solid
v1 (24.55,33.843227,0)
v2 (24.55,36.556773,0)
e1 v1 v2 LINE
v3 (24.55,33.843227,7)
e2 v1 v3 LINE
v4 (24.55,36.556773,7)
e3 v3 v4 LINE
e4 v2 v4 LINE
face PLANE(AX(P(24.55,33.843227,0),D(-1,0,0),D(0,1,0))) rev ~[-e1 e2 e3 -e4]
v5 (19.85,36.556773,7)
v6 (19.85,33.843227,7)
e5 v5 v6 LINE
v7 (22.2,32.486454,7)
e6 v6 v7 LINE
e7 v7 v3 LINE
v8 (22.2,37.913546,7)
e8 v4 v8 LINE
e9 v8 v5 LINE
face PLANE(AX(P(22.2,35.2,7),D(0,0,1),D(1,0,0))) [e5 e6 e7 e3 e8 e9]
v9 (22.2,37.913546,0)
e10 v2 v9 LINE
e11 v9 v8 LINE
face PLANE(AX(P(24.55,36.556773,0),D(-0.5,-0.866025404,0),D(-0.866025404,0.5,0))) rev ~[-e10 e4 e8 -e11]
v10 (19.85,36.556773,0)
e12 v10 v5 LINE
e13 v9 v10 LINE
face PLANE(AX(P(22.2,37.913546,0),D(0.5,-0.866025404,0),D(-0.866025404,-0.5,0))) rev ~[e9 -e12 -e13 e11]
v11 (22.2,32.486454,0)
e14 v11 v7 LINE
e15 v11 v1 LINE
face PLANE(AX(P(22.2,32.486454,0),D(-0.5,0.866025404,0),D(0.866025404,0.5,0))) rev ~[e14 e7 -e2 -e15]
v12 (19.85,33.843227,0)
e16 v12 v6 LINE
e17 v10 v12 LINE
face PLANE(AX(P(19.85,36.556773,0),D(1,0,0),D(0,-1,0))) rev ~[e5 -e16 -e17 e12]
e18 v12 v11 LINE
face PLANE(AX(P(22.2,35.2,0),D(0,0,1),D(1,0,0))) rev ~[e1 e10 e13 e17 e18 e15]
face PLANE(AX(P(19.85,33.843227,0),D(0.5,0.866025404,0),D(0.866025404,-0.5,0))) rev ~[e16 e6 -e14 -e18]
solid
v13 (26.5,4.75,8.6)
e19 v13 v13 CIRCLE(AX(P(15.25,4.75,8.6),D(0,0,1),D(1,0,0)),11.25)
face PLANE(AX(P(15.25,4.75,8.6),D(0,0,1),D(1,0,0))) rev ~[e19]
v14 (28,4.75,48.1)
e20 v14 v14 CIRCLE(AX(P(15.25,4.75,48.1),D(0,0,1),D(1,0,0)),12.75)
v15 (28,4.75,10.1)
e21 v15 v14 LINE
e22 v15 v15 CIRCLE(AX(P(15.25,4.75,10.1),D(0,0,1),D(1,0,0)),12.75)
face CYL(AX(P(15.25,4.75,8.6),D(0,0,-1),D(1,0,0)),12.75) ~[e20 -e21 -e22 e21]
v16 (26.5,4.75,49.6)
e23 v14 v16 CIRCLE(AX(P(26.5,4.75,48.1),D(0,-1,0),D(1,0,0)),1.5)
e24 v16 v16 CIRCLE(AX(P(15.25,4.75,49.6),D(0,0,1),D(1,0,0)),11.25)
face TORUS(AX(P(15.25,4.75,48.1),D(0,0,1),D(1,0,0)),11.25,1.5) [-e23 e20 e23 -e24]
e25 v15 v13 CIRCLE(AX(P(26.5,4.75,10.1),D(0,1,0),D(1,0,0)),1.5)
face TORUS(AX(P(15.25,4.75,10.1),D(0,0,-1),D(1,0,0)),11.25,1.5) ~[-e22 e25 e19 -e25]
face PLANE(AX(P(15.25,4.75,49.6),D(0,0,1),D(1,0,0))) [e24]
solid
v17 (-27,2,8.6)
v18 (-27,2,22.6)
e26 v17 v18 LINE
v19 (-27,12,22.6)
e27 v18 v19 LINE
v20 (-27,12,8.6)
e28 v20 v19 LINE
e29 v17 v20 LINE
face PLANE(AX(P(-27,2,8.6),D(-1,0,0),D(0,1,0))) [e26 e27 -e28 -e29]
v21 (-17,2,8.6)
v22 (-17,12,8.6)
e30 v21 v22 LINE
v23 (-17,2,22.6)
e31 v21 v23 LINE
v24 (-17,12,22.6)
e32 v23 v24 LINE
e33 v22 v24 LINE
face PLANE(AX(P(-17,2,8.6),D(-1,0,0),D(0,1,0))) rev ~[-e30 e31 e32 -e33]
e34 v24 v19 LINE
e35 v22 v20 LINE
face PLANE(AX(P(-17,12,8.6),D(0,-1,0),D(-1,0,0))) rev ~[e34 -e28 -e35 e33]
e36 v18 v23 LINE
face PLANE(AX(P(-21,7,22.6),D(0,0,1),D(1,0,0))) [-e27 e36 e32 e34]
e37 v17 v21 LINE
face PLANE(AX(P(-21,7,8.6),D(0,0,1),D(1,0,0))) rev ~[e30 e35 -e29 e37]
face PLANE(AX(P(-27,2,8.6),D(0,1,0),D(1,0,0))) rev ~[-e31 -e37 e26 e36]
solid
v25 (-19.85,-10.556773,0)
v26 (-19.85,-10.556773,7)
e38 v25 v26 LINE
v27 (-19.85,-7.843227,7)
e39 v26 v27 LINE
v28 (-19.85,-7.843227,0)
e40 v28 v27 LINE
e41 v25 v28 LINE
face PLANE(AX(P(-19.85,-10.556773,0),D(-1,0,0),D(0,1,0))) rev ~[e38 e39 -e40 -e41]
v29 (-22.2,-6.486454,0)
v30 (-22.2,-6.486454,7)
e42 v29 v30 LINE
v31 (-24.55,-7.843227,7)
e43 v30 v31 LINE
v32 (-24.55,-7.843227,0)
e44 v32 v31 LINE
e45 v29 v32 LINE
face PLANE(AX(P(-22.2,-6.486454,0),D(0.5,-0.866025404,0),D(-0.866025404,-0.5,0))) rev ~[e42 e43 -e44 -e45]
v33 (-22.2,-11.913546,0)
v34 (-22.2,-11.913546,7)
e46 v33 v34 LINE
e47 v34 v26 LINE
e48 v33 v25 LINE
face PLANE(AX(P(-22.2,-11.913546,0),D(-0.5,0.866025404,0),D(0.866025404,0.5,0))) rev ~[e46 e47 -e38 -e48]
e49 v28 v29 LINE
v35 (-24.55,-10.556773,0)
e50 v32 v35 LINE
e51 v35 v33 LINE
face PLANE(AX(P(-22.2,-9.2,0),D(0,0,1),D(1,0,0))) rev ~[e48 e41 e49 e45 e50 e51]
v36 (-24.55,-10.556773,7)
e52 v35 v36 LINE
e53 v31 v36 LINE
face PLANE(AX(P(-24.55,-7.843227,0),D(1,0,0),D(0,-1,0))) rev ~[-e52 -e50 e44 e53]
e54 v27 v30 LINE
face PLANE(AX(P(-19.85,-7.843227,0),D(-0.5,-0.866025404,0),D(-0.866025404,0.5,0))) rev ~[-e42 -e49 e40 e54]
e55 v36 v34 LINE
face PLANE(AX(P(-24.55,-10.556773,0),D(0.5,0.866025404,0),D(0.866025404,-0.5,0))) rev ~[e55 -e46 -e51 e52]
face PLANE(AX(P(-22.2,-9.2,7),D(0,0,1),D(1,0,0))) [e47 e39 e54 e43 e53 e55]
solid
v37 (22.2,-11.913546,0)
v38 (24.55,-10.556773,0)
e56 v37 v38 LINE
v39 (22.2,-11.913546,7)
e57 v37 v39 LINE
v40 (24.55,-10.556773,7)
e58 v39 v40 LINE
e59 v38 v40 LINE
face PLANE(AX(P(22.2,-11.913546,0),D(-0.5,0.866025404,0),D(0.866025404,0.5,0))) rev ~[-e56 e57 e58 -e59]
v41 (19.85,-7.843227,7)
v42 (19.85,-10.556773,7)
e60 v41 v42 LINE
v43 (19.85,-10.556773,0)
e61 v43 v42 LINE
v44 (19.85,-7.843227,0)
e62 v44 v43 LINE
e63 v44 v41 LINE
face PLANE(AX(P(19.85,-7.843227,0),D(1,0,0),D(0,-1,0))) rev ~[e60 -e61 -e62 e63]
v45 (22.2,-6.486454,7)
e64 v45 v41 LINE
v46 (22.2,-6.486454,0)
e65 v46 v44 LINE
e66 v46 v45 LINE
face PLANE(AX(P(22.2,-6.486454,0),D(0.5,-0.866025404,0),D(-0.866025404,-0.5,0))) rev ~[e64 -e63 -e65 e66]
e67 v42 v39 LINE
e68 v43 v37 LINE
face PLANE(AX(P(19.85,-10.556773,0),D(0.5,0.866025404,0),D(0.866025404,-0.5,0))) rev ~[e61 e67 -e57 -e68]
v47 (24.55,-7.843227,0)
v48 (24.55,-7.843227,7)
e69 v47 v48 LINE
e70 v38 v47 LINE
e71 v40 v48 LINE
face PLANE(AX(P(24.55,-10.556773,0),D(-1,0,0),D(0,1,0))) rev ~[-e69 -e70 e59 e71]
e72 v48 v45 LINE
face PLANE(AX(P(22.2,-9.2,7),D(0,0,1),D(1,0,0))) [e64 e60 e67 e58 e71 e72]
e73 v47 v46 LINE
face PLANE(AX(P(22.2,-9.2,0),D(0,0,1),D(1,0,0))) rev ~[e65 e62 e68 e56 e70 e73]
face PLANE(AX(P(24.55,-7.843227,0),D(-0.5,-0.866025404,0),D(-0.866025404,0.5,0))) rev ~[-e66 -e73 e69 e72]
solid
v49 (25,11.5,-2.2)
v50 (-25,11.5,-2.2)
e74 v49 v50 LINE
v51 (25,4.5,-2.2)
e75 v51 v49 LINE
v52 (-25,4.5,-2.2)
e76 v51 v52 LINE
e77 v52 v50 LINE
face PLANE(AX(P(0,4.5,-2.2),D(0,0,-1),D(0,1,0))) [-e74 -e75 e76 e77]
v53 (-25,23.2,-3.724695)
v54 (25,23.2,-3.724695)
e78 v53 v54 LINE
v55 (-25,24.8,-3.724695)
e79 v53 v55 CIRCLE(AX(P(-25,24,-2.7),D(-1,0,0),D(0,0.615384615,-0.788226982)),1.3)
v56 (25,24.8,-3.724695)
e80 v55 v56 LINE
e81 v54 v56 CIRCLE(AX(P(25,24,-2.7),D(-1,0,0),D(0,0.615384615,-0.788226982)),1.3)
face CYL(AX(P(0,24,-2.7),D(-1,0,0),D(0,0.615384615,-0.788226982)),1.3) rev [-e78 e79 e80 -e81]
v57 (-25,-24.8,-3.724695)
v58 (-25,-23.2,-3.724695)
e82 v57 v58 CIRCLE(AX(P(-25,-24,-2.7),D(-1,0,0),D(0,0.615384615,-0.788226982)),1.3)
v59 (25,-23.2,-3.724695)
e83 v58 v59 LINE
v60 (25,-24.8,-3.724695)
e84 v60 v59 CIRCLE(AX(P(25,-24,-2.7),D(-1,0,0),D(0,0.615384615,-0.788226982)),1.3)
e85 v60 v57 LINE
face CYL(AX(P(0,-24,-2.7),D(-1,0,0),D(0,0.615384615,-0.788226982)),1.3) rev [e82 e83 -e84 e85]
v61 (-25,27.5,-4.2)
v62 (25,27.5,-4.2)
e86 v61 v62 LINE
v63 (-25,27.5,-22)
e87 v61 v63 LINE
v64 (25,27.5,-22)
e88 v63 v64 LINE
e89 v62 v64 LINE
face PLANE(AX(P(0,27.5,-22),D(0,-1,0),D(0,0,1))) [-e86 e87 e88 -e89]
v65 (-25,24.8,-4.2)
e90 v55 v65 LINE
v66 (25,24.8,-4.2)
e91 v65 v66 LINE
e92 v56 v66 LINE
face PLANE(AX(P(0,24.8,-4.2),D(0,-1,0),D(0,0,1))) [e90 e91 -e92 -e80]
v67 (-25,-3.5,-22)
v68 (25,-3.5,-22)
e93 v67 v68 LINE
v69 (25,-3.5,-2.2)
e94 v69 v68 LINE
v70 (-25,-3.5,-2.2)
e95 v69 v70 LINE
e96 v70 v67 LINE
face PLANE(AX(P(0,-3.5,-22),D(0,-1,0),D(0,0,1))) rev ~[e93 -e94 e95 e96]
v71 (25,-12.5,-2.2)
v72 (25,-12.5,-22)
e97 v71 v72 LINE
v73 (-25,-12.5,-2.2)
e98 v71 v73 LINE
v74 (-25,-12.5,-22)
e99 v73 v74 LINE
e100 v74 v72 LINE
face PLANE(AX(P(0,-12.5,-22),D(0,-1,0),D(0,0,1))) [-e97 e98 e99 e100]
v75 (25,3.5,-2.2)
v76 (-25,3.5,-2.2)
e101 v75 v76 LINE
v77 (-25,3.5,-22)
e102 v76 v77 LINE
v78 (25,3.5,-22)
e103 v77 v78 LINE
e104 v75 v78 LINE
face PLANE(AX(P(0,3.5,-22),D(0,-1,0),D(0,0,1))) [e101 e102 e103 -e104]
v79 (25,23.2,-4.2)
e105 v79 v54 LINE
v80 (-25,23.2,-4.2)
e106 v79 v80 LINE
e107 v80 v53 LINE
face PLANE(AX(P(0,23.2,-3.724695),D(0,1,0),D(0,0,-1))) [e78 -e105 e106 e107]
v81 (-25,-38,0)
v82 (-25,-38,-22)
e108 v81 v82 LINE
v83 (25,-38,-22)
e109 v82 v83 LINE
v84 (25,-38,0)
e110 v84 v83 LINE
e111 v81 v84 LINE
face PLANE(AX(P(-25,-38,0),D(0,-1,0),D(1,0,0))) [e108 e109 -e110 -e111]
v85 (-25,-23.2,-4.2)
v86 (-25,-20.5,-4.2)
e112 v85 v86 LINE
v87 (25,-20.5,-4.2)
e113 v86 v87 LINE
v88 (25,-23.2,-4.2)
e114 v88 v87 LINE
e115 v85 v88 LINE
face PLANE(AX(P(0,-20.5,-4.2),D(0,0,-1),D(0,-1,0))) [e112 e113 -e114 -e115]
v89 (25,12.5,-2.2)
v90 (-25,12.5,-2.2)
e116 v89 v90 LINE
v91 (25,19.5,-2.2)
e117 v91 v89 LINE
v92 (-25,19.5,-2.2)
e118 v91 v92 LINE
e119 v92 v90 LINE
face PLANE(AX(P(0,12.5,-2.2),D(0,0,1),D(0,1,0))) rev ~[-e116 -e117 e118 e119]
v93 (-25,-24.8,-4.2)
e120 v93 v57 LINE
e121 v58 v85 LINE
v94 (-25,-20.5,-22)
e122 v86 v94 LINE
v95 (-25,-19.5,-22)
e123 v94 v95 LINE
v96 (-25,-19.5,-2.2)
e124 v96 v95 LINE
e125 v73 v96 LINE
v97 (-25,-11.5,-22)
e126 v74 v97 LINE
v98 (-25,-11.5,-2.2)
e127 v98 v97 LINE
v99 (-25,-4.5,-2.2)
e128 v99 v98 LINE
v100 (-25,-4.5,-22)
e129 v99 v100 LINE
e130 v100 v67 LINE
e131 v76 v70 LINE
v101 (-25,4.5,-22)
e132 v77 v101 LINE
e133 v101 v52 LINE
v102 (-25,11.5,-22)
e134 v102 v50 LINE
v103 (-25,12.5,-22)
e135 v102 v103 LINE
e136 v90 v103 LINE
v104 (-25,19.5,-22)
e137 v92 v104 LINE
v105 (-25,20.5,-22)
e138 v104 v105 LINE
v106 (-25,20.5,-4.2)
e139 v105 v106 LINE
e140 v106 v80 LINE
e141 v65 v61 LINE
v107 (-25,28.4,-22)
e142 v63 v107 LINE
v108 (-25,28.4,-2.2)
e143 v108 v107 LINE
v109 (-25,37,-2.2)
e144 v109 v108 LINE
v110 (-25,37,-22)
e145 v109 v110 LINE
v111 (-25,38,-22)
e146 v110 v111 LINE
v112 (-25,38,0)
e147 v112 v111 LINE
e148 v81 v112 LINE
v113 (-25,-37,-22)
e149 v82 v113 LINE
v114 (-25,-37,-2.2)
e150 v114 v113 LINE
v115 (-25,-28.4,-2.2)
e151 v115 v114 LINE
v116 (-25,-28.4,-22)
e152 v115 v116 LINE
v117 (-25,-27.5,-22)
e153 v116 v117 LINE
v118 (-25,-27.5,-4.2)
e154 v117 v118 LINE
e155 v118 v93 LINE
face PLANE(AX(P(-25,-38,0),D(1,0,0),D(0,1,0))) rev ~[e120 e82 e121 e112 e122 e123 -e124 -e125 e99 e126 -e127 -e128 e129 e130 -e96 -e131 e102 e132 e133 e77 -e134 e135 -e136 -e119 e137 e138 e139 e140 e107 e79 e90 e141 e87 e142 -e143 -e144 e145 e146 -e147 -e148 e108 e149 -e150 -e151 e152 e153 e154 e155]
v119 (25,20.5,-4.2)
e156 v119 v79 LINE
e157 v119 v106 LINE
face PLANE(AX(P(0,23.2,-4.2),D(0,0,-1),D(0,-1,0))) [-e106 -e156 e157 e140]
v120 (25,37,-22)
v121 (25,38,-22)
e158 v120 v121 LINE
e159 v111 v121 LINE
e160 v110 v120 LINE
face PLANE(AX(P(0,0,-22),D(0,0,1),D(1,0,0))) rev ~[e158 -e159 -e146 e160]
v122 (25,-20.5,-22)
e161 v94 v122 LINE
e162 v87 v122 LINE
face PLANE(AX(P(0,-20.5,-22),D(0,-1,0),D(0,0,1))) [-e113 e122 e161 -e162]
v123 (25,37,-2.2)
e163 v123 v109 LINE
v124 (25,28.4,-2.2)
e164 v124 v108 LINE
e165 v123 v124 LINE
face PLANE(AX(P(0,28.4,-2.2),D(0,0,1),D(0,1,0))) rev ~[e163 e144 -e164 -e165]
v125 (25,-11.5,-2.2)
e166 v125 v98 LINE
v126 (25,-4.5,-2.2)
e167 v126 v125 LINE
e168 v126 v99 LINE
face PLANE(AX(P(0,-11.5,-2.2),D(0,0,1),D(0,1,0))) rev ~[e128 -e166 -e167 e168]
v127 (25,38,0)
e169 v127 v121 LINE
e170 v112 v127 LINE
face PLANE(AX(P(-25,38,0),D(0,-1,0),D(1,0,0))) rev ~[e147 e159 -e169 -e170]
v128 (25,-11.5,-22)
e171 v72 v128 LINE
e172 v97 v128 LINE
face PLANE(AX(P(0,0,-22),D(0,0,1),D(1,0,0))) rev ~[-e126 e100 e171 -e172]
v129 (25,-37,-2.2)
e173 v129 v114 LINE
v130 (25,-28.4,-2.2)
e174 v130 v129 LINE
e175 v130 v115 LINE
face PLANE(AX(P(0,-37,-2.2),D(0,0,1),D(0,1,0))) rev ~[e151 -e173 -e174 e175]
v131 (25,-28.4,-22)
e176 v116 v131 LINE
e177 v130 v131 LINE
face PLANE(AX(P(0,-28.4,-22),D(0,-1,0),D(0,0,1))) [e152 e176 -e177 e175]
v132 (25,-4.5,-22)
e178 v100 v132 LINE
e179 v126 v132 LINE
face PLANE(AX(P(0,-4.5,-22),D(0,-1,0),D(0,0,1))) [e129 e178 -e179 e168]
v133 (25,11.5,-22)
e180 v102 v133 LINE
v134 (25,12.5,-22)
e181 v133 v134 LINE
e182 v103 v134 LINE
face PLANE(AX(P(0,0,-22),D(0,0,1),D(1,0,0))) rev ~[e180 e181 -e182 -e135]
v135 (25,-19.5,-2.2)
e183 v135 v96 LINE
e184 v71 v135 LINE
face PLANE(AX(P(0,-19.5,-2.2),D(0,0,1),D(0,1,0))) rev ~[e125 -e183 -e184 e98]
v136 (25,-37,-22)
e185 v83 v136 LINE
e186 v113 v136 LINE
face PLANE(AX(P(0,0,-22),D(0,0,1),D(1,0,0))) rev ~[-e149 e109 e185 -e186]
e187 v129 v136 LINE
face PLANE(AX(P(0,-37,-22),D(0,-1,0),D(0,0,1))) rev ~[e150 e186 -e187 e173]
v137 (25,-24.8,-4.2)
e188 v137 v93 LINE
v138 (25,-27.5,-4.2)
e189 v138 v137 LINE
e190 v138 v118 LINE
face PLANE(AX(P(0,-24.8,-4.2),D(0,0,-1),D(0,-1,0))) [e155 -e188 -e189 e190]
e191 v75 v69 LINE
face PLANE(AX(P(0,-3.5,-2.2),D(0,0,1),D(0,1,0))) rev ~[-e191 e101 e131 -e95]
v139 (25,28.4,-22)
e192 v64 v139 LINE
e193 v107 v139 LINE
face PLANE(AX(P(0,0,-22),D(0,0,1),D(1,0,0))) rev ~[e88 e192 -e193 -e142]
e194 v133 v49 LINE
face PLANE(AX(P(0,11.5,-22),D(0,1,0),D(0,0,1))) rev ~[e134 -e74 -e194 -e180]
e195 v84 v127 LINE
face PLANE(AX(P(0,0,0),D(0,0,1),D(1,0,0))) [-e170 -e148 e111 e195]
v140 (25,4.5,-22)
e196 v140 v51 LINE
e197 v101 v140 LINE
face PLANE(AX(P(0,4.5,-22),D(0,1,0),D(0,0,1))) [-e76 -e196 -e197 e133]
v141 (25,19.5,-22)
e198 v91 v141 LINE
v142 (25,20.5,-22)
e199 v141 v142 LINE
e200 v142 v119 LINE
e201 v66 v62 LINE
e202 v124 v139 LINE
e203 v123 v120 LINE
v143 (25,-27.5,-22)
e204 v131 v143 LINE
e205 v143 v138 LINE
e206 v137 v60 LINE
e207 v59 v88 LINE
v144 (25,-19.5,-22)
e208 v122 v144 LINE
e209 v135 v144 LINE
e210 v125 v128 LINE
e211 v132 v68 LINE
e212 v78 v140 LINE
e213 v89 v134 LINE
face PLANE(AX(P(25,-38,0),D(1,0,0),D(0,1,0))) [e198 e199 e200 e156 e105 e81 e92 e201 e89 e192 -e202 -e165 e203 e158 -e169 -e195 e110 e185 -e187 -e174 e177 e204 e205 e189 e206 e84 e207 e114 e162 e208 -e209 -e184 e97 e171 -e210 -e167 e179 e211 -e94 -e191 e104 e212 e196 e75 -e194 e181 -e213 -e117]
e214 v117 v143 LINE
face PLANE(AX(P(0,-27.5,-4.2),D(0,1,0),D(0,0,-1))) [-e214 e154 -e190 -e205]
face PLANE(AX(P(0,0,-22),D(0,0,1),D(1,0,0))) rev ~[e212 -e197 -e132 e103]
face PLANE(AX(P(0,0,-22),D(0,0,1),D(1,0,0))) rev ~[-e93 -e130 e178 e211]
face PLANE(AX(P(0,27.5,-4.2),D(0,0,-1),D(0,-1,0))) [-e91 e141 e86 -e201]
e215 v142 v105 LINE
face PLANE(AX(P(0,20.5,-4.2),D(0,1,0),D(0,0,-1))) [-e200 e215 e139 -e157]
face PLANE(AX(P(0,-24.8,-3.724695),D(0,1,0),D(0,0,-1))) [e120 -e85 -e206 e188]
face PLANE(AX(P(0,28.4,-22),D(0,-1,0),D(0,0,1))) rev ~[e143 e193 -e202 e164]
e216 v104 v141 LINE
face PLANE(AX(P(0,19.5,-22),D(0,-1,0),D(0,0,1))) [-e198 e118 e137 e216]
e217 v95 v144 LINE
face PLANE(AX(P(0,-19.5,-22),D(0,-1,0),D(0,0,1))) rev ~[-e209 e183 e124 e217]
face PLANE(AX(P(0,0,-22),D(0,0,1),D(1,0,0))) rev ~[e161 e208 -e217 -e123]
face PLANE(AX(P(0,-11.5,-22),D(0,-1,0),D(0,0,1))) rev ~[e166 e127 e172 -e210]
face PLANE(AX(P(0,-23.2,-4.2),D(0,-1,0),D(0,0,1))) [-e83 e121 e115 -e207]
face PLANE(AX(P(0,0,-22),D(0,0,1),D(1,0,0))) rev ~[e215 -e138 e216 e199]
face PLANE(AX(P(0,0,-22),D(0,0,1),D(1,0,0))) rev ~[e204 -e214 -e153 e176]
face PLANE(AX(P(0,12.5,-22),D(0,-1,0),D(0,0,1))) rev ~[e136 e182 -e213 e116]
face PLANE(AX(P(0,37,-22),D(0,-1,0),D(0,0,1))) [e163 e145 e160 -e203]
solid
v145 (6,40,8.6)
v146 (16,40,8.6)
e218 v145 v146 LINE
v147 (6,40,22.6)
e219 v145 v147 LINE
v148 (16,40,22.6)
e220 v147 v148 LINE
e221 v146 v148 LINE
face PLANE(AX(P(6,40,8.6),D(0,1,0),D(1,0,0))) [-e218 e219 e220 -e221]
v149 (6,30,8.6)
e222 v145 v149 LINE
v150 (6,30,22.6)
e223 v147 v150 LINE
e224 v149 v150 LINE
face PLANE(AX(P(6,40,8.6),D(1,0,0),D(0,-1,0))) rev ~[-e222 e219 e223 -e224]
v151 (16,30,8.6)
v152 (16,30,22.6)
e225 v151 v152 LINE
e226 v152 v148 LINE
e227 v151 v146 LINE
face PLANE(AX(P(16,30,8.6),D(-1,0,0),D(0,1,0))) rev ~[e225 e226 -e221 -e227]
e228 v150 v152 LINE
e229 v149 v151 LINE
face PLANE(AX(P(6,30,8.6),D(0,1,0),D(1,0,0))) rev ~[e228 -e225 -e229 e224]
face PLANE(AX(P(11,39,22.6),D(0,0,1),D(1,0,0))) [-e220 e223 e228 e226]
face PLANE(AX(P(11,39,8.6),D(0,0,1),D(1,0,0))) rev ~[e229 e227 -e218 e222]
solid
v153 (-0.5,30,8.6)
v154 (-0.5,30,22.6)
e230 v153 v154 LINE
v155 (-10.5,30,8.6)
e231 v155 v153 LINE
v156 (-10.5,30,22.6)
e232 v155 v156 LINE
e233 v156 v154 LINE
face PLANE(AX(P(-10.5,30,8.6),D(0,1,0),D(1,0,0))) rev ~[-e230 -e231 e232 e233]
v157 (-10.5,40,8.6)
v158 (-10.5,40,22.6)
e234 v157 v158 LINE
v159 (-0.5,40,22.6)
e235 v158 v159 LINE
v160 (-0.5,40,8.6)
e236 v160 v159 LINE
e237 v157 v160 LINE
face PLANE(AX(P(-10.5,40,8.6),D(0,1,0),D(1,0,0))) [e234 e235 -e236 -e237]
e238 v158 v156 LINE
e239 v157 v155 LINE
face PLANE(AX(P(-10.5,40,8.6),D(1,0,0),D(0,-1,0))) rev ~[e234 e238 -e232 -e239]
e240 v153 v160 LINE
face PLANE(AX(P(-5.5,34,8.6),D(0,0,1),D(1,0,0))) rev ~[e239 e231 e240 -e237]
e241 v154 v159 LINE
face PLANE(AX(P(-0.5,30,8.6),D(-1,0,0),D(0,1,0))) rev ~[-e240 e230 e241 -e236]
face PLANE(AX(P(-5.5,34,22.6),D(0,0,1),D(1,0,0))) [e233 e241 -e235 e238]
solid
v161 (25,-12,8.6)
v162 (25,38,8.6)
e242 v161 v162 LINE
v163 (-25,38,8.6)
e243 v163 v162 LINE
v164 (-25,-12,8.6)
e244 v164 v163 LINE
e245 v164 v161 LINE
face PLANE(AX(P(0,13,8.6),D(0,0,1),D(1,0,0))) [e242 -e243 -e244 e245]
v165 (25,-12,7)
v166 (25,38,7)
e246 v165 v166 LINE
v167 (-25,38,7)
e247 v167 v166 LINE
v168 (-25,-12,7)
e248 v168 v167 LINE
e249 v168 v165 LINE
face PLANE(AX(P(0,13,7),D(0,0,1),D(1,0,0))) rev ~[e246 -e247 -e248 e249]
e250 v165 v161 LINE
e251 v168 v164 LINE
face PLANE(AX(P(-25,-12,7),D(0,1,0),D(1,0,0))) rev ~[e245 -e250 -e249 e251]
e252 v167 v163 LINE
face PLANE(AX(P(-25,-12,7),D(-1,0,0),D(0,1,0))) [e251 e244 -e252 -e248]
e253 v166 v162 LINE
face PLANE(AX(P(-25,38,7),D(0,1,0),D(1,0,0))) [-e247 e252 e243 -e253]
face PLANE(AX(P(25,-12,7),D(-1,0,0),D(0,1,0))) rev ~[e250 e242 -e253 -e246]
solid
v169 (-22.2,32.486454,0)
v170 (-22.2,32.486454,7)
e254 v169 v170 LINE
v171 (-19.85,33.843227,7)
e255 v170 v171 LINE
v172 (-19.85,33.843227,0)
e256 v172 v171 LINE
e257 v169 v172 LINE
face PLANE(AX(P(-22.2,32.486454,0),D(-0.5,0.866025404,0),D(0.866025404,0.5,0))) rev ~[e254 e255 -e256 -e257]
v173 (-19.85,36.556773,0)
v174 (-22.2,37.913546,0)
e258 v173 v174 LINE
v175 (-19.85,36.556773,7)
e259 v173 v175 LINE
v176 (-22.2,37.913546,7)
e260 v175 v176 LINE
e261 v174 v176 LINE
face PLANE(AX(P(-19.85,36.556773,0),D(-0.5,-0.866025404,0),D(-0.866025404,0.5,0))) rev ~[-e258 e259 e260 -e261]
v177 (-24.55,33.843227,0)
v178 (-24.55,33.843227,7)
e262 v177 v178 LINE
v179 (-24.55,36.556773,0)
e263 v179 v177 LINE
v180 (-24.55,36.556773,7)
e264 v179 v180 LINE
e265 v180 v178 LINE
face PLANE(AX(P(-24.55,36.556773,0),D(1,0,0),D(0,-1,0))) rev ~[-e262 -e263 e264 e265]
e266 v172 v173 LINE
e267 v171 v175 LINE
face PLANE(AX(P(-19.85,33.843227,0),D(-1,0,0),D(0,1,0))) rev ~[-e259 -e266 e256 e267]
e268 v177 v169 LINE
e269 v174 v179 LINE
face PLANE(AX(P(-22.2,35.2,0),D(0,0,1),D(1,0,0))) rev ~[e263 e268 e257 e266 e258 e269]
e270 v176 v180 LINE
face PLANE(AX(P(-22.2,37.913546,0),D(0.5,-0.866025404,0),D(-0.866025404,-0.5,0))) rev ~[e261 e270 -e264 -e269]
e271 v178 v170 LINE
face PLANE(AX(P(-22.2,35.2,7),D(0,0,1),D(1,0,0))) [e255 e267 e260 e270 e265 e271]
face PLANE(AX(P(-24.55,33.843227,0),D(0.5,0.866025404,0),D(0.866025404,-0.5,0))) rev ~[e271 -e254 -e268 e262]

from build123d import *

# Parameters (mm, degrees)
F0_W      = 50
F0_H      = 76
F1_DEPTH  = 22
F2_W      = 8.6
F2_H      = 19.8
F2_W_2    = 7
F3_DEPTH  = 27.5
F5_DEPTH  = 7
F6_W      = 50
F6_H      = 50
F7_DEPTH  = 1.6
F8_R      = 12.75
F9_DEPTH  = 41
F10_R     = 1.5
F11_W     = 8
F11_H     = 10
F11_W_2   = 2
F12_DEPTH = 14
F11_W_3   = 10
F11_H_2   = 8
F11_H_3   = 2


with BuildPart() as f1:
    # F0 (on Top) → F1 (new body)
    with BuildSketch(Plane.XY):
        Rectangle(F0_W, F0_H)
    extrude(amount=-F1_DEPTH)

    # F2 (on Right) → F3 (cut, symmetric)
    with BuildSketch(Plane.YZ):
        with Locations((-32.7, -12.1)):
            Rectangle(F2_W, F2_H)
        with Locations((0, -12.1)):
            Rectangle(F2_W_2, F2_H)
        with Locations((-8, -12.1)):
            Rectangle(F2_W_2, F2_H)
        with Locations((-16, -12.1)):
            Rectangle(F2_W_2, F2_H)
        with BuildLine():
            Line((-27.5, -4.2), (-27.5, -22))
            Line((-27.5, -22), (-20.5, -22))
            Line((-20.5, -22), (-20.5, -4.2))
            Line((-20.5, -4.2), (-23.2, -4.2))
            Line((-23.2, -4.2), (-23.2, -3.7246950766))
            ThreePointArc((-23.2, -3.7246950766), (-24, -1.4), (-24.8, -3.7246950766))
            Line((-24.8, -3.7246950766), (-24.8, -4.2))
            Line((-24.8, -4.2), (-27.5, -4.2))
        make_face()
        with Locations((32.7, -12.1)):
            Rectangle(F2_W, F2_H)
        with BuildLine():
            Line((20.5, -22), (27.5, -22))
            Line((27.5, -22), (27.5, -4.2))
            Line((27.5, -4.2), (24.8, -4.2))
            Line((24.8, -4.2), (24.8, -3.7246950766))
            ThreePointArc((24.8, -3.7246950766), (24, -1.4), (23.2, -3.7246950766))
            Line((23.2, -3.7246950766), (23.2, -4.2))
            Line((23.2, -4.2), (20.5, -4.2))
            Line((20.5, -4.2), (20.5, -22))
        make_face()
        with Locations((16, -12.1)):
            Rectangle(F2_W_2, F2_H)
        with Locations((8, -12.1)):
            Rectangle(F2_W_2, F2_H)
    extrude(amount=F3_DEPTH, both=True, mode=Mode.SUBTRACT)


with BuildPart() as f5:
    # F4 (on face) → F5 (new body)
    with BuildSketch(Plane.XY):
        Polygon((-24.55, 33.8432268674), (-22.2, 32.4864537348), (-19.85, 33.8432268674), (-19.85, 36.5567731326), (-22.2, 37.9135462652), (-24.55, 36.5567731326), align=None)
    extrude(amount=F5_DEPTH)


with BuildPart() as f5b:
    # F4 (on face) → F5, piece 2 (new body)
    with BuildSketch(Plane.XY):
        Polygon((-19.85, -7.8432268674), (-22.2, -6.4864537348), (-24.55, -7.8432268674), (-24.55, -10.5567731326), (-22.2, -11.9135462652), (-19.85, -10.5567731326), align=None)
    extrude(amount=F5_DEPTH)


with BuildPart() as f5c:
    # F4 (on face) → F5, piece 3 (new body)
    with BuildSketch(Plane.XY):
        Polygon((24.55, 36.5567731326), (22.2, 37.9135462652), (19.85, 36.5567731326), (19.85, 33.8432268674), (22.2, 32.4864537348), (24.55, 33.8432268674), align=None)
    extrude(amount=F5_DEPTH)


with BuildPart() as f5d:
    # F4 (on face) → F5, piece 4 (new body)
    with BuildSketch(Plane.XY):
        Polygon((24.55, -7.8432268674), (22.2, -6.4864537348), (19.85, -7.8432268674), (19.85, -10.5567731326), (22.2, -11.9135462652), (24.55, -10.5567731326), align=None)
    extrude(amount=F5_DEPTH)


with BuildPart() as f7:
    # F6 (on face) → F7 (new body)
    with BuildSketch(Plane.XY.offset(7)):
        with Locations((0, 13)):
            Rectangle(F6_W, F6_H)
        Polygon((-24.55, 33.8432268674), (-24.55, 36.5567731326), (-22.2, 37.9135462652), (-19.85, 36.5567731326), (-19.85, 33.8432268674), (-22.2, 32.4864537348), align=None, mode=Mode.SUBTRACT)
        Polygon((-22.2, 37.9135462652), (-24.55, 36.5567731326), (-24.55, 33.8432268674), (-22.2, 32.4864537348), (-19.85, 33.8432268674), (-19.85, 36.5567731326), align=None)
    extrude(amount=F7_DEPTH)


with BuildPart() as f9:
    # F8 (on face) → F9 (new body)
    with BuildSketch(Plane.XY.offset(8.6)):
        with Locations((15.25, 4.75)):
            Circle(F8_R)
    extrude(amount=F9_DEPTH)

    # F10
    f10_edges = [f9.edges().sort_by_distance(p)[0] for p in [
        (2.5, 4.75, 49.6),
        (2.5, 4.75, 8.6),
    ]]
    fillet(f10_edges, radius=F10_R)


with BuildPart() as f12:
    # F11 (on face) → F12 (new body)
    with BuildSketch(Plane.XY.offset(8.6)):
        with Locations((-21, 7)):
            Rectangle(F11_W, F11_H)
        with Locations((-26, 7)):
            Rectangle(F11_W_2, F11_H)
    extrude(amount=F12_DEPTH)


with BuildPart() as f12b:
    # F11 (on face) → F12, piece 2 (new body)
    with BuildSketch(Plane.XY.offset(8.6)):
        with Locations((-5.5, 34)):
            Rectangle(F11_W_3, F11_H_2)
        with Locations((-5.5, 39)):
            Rectangle(F11_W_3, F11_H_3)
    extrude(amount=F12_DEPTH)


with BuildPart() as f12c:
    # F11 (on face) → F12, piece 3 (new body)
    with BuildSketch(Plane.XY.offset(8.6)):
        with Locations((11, 39)):
            Rectangle(F11_W_3, F11_H_3)
        with Locations((11, 34)):
            Rectangle(F11_W_3, F11_H_2)
    extrude(amount=F12_DEPTH)


solid = Compound([f1.part, f5.part, f5b.part, f5c.part, f5d.part, f7.part, f9.part, f12.part, f12b.part, f12c.part])
